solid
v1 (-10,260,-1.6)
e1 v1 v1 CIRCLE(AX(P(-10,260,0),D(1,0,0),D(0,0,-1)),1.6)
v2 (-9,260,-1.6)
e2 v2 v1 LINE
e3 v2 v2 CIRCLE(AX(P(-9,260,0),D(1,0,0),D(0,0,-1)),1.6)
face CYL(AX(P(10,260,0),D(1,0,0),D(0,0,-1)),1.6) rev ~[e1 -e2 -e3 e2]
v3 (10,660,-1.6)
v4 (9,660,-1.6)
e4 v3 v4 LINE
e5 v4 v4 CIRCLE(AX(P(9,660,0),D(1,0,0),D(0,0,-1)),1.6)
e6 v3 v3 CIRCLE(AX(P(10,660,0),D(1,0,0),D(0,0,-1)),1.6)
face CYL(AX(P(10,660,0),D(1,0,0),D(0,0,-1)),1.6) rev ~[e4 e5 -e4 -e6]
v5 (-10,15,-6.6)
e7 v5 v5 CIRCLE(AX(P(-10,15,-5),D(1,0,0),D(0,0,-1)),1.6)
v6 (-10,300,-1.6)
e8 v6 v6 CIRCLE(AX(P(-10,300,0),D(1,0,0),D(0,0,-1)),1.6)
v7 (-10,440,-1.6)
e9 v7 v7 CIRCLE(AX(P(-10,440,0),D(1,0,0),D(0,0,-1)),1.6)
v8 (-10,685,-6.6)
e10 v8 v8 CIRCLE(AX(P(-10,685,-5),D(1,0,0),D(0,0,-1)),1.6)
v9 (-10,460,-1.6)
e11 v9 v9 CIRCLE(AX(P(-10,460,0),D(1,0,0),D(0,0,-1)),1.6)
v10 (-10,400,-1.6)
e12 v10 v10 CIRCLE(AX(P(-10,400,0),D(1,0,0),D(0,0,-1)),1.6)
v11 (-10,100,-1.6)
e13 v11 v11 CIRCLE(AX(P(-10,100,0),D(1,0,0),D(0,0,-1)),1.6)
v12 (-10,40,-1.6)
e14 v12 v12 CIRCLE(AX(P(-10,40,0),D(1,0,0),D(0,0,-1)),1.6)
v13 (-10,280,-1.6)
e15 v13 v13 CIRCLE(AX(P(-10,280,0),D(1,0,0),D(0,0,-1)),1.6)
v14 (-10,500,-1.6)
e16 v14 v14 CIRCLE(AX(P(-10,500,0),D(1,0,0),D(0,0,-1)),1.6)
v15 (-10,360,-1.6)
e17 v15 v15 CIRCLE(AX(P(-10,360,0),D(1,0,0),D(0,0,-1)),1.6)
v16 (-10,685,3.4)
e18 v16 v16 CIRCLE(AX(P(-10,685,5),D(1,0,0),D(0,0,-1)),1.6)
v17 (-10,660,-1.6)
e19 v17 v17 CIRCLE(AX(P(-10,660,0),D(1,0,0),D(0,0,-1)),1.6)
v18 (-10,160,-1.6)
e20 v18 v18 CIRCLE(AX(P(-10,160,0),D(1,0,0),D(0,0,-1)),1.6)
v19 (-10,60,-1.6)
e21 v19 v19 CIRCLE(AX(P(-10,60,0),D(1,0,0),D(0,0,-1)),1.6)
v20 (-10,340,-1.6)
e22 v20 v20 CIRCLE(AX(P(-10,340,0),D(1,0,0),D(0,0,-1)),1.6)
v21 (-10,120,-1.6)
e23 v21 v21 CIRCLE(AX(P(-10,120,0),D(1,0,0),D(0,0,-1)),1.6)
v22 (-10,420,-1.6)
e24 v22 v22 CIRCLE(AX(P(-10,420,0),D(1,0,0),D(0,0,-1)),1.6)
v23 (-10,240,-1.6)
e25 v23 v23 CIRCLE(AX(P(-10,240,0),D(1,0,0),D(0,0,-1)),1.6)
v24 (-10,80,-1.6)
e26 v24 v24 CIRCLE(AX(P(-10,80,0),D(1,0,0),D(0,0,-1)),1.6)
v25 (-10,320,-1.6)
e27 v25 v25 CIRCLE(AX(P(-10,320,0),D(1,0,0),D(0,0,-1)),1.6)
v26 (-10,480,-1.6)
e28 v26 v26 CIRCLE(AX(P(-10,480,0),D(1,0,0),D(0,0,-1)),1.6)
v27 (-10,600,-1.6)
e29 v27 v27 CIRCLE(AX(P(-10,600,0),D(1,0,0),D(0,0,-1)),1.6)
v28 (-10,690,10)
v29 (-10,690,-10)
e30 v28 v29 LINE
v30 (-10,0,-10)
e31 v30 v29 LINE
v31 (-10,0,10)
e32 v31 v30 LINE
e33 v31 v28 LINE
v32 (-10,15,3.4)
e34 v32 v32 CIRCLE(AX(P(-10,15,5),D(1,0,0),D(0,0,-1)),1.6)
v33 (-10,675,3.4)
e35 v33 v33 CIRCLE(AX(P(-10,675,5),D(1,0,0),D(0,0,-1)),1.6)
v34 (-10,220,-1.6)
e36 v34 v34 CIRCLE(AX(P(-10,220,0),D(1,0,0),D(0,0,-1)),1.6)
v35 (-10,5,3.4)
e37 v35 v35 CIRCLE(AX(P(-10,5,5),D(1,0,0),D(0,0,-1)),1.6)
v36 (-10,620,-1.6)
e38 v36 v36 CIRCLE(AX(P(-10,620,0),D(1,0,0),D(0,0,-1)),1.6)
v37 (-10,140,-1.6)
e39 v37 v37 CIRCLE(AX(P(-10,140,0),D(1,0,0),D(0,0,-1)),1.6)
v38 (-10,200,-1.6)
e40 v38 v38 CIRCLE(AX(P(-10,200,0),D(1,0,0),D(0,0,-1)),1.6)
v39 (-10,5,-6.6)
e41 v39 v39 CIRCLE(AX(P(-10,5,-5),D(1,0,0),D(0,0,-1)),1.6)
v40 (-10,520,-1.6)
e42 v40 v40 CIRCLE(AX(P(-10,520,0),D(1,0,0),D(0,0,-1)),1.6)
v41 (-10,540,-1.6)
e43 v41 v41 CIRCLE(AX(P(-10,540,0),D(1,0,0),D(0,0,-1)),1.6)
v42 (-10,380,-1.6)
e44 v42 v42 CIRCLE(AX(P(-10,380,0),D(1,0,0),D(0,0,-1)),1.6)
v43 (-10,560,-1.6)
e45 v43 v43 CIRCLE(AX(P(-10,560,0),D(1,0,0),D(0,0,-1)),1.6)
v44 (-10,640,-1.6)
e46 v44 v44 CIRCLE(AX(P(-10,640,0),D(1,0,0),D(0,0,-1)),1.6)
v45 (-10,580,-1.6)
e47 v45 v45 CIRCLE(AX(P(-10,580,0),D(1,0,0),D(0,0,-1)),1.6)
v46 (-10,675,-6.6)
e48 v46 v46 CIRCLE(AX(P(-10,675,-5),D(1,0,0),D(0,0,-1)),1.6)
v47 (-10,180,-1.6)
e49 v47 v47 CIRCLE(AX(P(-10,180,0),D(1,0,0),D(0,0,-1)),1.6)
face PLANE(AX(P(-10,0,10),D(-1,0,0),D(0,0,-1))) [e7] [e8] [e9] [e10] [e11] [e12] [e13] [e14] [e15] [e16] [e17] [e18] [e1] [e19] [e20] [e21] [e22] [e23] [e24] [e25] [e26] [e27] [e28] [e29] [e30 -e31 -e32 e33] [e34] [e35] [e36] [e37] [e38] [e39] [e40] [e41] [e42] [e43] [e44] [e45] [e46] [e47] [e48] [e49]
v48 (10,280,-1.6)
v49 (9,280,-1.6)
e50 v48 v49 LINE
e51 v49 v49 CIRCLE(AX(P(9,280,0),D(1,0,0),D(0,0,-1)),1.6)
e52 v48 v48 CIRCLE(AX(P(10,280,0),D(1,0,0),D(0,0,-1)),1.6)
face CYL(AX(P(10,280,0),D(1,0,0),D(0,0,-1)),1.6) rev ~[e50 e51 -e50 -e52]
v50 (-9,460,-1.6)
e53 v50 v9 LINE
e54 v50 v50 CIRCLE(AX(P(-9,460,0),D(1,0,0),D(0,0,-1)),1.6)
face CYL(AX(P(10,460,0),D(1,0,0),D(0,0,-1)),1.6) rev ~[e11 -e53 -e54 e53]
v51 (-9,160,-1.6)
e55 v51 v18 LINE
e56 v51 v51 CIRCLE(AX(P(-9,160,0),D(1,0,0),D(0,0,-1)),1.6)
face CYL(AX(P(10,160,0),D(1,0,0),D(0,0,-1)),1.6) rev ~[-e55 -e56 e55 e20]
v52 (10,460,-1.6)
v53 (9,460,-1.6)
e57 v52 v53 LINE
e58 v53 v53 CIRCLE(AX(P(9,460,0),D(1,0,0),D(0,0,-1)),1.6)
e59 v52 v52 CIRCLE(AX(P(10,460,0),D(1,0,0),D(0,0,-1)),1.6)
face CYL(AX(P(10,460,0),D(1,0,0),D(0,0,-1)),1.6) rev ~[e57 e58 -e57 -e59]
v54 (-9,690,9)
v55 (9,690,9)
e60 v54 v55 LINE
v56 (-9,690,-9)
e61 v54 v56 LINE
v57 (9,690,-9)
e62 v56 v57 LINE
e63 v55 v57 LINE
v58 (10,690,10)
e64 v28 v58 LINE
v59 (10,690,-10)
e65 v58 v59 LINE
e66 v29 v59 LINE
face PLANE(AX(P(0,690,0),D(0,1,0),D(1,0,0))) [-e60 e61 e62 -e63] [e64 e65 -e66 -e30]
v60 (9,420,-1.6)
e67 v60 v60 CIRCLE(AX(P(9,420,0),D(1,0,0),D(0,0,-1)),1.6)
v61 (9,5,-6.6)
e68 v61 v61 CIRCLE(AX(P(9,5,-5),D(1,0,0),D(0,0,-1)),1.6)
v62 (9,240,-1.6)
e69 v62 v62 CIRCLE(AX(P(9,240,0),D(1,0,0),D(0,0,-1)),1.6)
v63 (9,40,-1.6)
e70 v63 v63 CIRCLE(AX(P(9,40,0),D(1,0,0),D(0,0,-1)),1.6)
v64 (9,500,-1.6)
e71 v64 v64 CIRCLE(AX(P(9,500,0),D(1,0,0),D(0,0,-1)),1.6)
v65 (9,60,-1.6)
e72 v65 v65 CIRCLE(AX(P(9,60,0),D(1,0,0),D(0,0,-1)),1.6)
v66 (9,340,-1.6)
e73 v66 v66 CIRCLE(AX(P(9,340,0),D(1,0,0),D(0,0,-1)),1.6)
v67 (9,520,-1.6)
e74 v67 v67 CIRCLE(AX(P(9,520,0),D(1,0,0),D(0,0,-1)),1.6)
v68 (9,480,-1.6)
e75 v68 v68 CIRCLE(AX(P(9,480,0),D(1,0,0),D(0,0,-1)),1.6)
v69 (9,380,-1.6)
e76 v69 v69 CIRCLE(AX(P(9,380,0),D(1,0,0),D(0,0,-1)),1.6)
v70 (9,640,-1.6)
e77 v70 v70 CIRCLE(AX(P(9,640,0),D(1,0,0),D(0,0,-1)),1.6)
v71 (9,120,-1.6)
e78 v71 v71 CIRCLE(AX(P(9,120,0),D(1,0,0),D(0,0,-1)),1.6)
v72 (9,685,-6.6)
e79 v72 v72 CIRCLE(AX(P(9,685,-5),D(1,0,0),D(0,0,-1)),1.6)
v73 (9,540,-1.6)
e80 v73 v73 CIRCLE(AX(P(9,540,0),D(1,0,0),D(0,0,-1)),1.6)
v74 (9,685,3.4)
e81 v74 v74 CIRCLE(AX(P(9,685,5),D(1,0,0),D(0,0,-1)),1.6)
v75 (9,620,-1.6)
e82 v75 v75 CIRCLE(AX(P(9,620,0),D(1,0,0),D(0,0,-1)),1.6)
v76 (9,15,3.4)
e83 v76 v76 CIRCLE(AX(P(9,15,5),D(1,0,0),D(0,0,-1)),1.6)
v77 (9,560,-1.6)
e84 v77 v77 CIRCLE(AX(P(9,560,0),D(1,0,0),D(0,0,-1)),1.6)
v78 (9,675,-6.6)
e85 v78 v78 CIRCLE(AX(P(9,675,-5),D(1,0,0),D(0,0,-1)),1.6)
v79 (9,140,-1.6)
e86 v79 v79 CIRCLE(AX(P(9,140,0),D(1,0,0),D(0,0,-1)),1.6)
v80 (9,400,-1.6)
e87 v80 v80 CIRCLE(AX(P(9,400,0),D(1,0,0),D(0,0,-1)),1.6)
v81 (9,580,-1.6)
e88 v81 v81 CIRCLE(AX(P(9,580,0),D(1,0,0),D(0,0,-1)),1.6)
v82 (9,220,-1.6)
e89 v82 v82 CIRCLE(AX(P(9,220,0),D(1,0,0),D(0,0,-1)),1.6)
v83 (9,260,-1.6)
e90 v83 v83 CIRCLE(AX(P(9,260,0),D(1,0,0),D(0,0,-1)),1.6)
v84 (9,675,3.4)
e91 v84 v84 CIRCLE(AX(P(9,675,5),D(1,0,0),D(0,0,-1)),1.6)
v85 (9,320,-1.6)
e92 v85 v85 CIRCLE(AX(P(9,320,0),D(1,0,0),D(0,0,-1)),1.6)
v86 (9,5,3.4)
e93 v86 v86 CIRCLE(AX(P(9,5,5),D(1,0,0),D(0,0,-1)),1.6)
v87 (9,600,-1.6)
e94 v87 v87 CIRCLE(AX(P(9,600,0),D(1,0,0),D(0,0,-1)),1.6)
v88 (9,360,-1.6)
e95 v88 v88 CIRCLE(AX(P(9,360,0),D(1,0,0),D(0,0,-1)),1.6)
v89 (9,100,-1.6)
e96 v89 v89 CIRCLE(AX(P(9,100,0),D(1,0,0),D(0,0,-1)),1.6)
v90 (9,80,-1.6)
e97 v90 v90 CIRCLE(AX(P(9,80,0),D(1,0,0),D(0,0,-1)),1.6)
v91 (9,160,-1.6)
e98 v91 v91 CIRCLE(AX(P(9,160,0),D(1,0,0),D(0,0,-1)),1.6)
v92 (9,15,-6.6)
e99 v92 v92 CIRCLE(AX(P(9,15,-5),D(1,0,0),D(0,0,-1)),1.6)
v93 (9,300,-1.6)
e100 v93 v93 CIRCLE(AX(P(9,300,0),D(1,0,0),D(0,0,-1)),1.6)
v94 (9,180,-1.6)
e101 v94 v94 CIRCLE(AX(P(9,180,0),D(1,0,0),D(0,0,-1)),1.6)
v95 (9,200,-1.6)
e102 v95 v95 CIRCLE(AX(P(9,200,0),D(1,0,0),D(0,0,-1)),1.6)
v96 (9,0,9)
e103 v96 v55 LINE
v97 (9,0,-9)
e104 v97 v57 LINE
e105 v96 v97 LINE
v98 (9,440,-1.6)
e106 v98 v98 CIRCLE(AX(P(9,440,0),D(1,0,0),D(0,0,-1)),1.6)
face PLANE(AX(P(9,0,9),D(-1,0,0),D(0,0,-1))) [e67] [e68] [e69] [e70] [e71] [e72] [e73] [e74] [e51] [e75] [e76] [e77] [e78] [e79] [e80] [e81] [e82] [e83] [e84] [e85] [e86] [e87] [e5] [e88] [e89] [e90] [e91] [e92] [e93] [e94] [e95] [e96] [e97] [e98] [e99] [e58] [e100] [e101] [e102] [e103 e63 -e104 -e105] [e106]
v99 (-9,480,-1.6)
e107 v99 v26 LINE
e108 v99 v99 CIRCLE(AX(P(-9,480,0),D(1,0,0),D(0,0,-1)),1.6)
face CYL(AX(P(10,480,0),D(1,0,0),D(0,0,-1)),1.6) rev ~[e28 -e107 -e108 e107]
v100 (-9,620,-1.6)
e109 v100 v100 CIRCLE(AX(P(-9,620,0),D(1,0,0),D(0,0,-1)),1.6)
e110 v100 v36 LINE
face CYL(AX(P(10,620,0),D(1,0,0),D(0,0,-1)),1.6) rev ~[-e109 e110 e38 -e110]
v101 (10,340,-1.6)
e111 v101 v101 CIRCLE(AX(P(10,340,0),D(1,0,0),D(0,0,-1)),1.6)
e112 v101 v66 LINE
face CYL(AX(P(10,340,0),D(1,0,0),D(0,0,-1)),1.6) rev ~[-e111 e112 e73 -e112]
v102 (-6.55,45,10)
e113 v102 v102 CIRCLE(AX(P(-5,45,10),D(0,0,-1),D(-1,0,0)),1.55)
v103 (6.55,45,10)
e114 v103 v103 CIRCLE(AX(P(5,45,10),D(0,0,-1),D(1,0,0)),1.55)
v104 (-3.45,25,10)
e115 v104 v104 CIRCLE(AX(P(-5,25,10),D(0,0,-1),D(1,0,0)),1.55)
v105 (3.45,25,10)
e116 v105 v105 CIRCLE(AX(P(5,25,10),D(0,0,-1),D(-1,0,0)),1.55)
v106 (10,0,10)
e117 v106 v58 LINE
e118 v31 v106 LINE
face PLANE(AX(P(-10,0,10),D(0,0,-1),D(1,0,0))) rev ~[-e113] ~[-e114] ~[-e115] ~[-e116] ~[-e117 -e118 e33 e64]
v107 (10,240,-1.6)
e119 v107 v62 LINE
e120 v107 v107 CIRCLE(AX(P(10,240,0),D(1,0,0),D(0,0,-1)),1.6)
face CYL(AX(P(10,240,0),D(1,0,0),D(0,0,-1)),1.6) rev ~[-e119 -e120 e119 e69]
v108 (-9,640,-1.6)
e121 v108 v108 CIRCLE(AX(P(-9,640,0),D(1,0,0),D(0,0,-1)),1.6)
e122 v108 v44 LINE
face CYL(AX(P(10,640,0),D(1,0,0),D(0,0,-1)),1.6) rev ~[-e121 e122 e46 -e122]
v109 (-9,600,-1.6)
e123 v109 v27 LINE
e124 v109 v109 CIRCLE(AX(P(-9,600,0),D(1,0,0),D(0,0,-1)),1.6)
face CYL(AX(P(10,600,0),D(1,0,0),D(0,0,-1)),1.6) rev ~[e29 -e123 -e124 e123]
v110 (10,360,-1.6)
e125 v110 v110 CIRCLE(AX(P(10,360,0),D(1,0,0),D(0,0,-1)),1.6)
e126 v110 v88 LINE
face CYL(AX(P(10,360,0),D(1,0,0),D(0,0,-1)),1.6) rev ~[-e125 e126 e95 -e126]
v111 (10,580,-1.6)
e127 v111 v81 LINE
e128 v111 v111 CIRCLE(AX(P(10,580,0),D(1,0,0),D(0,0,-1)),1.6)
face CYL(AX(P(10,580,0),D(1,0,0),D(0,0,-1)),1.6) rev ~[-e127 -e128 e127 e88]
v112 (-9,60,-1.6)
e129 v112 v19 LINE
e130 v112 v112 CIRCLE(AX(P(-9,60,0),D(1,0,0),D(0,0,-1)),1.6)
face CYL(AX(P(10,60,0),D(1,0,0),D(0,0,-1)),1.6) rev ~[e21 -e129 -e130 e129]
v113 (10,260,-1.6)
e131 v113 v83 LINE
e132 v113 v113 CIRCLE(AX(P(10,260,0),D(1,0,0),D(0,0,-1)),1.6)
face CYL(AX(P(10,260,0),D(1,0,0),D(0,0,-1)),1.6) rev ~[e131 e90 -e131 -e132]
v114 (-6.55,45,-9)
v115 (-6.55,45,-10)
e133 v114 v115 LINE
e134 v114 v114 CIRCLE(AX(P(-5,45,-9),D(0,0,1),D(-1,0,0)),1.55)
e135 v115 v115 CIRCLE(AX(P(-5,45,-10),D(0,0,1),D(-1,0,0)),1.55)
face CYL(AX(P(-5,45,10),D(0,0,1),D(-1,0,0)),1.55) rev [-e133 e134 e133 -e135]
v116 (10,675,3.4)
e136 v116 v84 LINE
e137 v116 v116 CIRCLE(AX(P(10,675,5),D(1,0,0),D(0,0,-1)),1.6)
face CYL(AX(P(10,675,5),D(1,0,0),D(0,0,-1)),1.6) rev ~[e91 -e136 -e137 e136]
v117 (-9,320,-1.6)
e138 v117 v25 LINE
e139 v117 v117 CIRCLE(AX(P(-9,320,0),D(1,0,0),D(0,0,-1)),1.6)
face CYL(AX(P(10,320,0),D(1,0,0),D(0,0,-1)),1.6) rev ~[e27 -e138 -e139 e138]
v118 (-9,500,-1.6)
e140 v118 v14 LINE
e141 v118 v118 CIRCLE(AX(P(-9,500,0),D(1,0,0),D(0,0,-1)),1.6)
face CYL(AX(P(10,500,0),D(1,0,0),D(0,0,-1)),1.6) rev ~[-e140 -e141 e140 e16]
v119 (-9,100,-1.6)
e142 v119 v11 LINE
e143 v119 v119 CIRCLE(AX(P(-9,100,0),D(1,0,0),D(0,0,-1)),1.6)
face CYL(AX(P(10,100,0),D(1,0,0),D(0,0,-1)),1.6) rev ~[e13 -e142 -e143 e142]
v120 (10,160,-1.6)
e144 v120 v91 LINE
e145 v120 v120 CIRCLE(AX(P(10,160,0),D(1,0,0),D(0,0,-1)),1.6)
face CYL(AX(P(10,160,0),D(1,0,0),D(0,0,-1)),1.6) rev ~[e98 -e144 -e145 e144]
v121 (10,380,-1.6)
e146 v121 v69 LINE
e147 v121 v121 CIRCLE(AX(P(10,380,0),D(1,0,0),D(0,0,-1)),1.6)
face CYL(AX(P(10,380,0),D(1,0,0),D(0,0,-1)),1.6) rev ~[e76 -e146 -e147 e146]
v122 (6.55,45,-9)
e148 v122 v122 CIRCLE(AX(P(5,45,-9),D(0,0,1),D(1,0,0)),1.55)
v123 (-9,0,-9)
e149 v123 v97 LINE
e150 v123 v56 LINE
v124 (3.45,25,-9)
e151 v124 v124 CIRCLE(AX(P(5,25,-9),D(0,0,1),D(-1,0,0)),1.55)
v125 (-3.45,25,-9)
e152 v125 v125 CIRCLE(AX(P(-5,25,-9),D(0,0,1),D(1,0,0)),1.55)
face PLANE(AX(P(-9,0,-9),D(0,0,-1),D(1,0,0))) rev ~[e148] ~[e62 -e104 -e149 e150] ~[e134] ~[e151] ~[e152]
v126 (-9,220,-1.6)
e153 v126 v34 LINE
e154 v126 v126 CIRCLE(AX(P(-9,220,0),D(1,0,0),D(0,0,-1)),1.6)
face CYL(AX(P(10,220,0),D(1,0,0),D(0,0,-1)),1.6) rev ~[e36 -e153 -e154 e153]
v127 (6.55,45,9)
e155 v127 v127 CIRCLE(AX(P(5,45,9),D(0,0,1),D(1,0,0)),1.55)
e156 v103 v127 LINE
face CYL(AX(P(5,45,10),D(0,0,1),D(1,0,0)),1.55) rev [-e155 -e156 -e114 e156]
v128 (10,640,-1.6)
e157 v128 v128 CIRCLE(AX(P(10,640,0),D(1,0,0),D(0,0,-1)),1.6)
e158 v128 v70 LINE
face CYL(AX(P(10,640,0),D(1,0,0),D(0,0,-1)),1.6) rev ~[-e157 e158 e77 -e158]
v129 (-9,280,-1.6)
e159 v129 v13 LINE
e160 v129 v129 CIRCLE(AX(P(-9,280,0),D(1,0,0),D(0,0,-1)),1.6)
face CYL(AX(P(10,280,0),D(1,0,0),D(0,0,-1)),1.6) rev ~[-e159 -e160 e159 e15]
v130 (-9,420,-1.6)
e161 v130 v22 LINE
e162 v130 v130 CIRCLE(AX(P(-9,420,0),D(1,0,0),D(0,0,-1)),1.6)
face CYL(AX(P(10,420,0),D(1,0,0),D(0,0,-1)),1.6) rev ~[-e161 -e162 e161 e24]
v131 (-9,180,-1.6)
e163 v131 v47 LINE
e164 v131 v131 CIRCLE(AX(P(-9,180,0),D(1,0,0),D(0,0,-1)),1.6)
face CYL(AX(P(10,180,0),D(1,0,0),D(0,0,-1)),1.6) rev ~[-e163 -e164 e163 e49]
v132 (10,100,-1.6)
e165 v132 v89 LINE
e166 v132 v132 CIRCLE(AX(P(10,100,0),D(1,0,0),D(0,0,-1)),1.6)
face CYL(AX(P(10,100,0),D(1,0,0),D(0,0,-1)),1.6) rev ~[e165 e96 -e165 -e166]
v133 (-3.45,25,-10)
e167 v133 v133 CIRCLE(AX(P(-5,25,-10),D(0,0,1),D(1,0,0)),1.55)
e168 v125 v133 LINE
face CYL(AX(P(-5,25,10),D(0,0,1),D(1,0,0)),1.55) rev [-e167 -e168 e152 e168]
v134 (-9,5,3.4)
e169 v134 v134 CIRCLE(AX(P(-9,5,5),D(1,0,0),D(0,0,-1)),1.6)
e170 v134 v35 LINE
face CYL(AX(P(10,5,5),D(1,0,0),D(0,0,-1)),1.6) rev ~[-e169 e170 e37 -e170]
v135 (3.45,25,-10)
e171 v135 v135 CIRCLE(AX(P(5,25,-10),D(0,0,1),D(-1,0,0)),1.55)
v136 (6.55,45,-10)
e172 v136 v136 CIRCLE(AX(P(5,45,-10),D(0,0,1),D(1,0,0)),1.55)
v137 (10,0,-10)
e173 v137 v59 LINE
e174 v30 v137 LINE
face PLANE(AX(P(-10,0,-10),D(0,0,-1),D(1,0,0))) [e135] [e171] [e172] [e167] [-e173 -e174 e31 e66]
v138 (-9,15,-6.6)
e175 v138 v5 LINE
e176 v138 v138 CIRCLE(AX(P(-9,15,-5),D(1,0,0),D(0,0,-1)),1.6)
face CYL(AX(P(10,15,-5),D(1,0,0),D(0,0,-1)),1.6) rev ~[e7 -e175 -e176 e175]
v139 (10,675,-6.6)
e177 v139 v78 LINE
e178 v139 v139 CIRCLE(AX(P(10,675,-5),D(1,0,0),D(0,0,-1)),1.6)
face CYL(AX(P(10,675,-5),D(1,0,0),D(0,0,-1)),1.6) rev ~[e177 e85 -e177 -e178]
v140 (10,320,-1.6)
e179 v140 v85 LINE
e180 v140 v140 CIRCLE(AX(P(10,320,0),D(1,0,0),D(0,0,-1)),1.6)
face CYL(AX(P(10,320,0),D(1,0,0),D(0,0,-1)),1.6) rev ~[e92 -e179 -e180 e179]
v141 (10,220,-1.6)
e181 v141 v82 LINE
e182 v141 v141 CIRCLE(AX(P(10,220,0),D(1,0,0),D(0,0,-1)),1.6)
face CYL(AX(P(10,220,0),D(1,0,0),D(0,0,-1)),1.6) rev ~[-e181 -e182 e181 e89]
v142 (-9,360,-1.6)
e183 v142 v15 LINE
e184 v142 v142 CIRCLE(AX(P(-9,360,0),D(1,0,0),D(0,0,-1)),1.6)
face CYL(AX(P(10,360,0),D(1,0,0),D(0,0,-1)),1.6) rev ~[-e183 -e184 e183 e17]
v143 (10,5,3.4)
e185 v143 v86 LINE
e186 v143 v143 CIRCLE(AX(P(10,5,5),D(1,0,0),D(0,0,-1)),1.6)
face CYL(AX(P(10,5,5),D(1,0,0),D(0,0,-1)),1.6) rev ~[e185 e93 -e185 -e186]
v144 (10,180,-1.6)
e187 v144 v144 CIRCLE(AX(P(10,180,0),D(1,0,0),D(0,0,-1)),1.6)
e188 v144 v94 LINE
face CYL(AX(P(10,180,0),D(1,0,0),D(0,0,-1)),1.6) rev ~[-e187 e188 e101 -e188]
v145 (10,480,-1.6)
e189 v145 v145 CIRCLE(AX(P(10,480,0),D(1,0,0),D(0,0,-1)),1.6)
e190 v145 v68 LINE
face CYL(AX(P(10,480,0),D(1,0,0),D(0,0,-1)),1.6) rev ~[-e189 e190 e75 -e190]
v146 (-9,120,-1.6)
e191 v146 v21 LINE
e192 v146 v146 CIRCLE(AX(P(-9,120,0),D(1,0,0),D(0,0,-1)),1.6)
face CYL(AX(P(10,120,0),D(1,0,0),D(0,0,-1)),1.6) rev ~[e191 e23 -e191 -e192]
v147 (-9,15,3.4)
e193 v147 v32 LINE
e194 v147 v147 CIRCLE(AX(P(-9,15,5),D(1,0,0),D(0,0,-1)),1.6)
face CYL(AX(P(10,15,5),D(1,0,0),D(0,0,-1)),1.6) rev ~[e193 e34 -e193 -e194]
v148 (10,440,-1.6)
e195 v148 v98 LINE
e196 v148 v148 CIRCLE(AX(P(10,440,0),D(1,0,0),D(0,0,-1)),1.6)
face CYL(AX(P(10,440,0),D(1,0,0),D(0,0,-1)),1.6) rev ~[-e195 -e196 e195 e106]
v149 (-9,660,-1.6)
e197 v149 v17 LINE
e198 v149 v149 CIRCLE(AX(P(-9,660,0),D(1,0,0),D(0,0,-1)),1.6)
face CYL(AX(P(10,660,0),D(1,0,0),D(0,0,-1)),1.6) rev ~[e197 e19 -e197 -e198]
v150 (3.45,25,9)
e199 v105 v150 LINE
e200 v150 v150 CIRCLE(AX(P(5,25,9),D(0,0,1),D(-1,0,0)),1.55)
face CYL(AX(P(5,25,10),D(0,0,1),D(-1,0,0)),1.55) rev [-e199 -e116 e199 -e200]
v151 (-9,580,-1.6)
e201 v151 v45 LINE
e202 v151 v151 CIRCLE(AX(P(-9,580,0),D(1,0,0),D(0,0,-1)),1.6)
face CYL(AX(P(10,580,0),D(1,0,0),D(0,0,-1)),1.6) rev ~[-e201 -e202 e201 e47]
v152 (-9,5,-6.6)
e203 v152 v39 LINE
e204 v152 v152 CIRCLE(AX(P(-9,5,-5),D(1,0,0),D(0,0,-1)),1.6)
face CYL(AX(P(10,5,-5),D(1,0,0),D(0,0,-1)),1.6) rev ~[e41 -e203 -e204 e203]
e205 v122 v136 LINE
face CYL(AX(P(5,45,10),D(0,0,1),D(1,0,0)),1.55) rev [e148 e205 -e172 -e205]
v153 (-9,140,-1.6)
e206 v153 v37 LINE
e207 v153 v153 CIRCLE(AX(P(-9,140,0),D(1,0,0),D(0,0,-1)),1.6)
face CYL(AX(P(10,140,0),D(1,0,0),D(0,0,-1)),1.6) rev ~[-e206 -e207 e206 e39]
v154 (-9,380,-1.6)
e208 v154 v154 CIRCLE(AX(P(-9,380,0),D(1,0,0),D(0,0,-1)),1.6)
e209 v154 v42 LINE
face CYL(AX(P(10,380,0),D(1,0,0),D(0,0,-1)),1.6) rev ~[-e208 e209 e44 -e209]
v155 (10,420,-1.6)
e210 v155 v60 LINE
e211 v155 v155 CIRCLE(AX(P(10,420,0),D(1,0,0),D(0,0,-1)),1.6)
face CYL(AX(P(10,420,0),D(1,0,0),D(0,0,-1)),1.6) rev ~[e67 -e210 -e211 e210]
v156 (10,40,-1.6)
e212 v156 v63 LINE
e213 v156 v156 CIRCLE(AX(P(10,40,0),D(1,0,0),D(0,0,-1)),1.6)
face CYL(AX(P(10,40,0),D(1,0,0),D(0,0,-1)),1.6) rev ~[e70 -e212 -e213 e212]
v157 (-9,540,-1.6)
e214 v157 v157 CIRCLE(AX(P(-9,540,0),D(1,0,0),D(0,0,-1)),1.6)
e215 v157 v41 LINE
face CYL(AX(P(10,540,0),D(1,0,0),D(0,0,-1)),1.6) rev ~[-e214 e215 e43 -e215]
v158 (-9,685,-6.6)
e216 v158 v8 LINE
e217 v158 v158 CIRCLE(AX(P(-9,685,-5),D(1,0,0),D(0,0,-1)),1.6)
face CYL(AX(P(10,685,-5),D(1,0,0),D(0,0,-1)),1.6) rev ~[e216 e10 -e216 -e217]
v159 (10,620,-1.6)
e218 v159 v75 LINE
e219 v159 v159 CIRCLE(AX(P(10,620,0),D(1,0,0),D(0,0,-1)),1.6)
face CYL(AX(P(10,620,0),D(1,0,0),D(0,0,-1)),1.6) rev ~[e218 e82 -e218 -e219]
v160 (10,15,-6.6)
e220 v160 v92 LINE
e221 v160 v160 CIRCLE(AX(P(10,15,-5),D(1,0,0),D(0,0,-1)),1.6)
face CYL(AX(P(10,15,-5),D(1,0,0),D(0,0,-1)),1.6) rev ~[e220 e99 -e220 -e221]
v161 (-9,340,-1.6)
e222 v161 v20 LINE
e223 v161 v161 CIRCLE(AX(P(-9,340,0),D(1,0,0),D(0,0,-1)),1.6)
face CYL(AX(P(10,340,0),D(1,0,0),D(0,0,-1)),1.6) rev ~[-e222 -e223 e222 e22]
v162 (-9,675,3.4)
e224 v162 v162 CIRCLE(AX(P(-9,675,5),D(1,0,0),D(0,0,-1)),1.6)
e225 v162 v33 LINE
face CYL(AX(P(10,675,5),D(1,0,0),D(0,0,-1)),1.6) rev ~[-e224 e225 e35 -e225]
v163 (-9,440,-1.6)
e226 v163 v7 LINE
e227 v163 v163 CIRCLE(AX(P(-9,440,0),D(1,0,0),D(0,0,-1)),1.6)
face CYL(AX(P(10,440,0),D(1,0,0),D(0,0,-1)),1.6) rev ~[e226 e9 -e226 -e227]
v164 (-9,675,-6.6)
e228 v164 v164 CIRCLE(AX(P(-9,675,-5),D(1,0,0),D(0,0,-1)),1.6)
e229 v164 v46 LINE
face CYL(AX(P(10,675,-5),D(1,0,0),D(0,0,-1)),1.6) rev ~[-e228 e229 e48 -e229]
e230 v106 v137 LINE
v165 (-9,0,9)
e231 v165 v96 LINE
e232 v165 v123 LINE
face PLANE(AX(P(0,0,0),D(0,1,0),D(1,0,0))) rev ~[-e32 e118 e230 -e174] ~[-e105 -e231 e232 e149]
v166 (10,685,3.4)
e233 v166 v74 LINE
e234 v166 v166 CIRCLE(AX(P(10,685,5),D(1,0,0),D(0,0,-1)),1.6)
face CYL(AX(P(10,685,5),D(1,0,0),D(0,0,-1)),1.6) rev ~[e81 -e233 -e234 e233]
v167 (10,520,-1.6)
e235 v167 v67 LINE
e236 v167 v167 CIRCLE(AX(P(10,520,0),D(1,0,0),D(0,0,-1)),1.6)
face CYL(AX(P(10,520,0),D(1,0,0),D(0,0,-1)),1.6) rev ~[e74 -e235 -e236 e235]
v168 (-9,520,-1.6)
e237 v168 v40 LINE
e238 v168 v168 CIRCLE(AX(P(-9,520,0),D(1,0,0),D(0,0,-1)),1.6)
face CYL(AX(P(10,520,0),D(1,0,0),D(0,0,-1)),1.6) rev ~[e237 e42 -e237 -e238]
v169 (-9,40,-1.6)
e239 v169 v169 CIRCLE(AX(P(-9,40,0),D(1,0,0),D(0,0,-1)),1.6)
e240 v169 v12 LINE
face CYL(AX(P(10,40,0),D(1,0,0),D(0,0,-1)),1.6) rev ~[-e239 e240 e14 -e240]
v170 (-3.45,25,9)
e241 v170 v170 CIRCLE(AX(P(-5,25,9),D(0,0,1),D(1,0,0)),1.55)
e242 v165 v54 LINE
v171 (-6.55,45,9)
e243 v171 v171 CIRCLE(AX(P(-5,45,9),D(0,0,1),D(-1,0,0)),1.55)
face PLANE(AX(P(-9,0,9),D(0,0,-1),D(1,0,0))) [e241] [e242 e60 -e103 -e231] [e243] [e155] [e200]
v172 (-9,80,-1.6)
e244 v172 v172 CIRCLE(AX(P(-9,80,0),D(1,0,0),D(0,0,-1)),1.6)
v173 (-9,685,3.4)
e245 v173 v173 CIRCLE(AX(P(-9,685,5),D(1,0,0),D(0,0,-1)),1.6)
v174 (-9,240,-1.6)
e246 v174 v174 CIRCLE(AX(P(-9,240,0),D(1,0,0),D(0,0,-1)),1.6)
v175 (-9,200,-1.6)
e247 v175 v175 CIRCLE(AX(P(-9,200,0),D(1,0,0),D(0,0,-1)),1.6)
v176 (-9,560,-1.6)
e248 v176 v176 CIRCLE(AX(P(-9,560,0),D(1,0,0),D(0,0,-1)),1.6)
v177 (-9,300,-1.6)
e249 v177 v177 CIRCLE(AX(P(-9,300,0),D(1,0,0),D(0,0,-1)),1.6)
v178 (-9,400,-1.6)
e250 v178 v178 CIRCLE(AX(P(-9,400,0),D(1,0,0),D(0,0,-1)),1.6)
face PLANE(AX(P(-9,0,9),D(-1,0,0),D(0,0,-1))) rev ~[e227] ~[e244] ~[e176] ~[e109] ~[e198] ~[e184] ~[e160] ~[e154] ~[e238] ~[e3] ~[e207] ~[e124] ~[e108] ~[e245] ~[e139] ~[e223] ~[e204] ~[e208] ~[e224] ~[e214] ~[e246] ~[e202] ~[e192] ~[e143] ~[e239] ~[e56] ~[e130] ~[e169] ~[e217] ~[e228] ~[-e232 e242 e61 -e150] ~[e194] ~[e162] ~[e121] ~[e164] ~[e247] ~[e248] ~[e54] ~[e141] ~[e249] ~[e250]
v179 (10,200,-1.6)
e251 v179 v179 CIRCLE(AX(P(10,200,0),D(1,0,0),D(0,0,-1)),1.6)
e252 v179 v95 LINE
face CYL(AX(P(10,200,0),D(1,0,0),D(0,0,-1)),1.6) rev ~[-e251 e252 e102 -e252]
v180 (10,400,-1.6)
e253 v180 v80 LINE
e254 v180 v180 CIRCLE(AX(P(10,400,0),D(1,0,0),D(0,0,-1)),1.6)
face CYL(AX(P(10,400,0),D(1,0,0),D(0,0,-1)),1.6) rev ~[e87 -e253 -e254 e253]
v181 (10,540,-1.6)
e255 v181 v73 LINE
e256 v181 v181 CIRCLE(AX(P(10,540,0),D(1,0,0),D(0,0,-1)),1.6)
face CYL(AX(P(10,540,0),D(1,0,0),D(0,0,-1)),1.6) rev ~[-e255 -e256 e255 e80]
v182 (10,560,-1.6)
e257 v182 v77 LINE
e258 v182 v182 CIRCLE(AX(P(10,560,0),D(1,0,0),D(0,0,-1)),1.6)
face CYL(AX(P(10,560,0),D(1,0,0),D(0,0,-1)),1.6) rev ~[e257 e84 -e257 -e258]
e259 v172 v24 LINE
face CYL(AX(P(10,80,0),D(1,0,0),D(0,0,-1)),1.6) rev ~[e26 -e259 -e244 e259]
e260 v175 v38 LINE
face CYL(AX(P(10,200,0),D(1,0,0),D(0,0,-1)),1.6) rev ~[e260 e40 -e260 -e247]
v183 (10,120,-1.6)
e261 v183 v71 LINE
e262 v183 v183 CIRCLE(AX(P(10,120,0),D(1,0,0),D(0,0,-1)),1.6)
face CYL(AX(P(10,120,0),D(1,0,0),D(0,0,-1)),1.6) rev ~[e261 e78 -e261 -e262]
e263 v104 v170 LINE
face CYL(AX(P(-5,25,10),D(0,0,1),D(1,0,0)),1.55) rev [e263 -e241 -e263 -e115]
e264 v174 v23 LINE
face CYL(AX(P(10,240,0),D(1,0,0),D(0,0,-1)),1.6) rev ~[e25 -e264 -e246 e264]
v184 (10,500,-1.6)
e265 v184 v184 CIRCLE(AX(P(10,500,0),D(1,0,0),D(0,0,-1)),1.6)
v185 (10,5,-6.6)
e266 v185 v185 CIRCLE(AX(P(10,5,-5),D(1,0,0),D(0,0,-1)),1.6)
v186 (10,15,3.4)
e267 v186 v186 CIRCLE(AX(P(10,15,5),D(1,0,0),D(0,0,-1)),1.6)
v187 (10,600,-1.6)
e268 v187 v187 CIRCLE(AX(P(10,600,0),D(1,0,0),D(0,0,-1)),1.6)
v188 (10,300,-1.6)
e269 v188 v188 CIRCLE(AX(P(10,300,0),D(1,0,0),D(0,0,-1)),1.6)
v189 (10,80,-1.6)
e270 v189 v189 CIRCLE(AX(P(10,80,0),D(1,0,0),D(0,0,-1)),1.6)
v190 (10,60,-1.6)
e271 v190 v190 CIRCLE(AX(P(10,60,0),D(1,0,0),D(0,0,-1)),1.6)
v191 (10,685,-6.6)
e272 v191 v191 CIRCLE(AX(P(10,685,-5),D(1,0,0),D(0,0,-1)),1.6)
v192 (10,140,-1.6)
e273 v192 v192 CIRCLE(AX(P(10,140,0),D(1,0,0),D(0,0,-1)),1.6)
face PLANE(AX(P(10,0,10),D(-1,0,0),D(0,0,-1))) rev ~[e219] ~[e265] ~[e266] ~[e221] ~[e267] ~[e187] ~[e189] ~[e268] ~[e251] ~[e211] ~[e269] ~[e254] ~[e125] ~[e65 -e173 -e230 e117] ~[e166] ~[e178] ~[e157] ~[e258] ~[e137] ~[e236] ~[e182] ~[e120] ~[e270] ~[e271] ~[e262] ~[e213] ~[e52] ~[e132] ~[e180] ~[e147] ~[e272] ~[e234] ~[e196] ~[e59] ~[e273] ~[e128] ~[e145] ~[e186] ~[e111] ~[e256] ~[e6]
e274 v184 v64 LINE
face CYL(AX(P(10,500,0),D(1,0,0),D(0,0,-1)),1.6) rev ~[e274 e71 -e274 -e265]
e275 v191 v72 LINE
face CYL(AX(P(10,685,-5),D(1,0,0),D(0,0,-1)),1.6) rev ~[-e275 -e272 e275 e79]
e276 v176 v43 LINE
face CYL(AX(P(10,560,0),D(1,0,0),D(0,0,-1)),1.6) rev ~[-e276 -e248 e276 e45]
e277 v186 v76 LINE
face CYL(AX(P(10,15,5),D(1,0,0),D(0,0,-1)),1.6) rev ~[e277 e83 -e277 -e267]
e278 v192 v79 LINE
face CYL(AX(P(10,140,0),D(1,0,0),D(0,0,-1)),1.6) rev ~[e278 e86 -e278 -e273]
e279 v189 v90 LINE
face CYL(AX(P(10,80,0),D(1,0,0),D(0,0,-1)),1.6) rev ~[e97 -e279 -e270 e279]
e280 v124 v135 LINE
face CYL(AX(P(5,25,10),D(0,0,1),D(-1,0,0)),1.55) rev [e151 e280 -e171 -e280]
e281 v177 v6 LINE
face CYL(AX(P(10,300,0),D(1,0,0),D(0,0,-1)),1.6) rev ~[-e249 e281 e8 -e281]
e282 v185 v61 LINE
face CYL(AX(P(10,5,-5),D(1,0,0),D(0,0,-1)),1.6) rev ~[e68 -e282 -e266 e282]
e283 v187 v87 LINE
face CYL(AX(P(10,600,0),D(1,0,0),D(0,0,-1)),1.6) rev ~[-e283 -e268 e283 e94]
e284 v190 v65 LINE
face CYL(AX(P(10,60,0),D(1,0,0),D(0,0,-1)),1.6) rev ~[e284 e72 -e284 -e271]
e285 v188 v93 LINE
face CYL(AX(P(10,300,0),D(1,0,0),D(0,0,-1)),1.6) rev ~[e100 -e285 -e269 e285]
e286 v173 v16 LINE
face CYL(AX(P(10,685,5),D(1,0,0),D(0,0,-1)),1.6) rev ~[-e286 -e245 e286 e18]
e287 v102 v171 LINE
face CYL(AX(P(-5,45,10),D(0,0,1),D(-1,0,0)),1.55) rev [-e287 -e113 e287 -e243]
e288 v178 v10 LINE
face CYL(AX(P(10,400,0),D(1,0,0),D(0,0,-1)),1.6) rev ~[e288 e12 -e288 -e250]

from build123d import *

# Parameters (mm, degrees)
SKETCH_1_W          = 20
SKETCH_1_H          = 20
SKETCH_1_W_2        = 18
SKETCH_1_H_2        = 18
EXTRUDE_1_DEPTH     = 690
SKETCH_3_R          = 1.55
CUT_EXTRUDE_2_DEPTH = 691.362223764
SKETCH_4_R          = 1.6
CUT_EXTRUDE_3_DEPTH = 691.362223764
SKETCH_5_R          = 1.6
CUT_EXTRUDE_4_DEPTH = 691.362223764


with BuildPart() as part:
    # 草图1 → 拉伸-薄壁1 (new body)
    with BuildSketch(Plane(origin=(0, 0, 0), x_dir=(1, 0, 0), z_dir=(0, 1, 0))):
        Rectangle(SKETCH_1_W, SKETCH_1_H)
        Rectangle(SKETCH_1_W_2, SKETCH_1_H_2, mode=Mode.SUBTRACT)
    extrude(amount=EXTRUDE_1_DEPTH)

    # 草图3 → 切除-拉伸2 (cut, through all)
    with BuildSketch(Plane(origin=(0, 0, 10), x_dir=(-1, 0, 0), z_dir=(0, 0, -1))):
        with Locations((-5, 25)):
            Circle(SKETCH_3_R)
        with Locations(Location((-5, 45, 0), (0, 0, 180))):
            Circle(SKETCH_3_R)
        with Locations(Location((5, 25, 0), (0, 0, 180))):
            Circle(SKETCH_3_R)
        with Locations((5, 45)):
            Circle(SKETCH_3_R)
    extrude(amount=CUT_EXTRUDE_2_DEPTH, mode=Mode.SUBTRACT)

    # 草图4 → 切除-拉伸3 (cut, through all)
    with BuildSketch(Plane(origin=(10, 0, 0), x_dir=(0, 0, -1), z_dir=(1, 0, 0))):
        with Locations((-5, 5)):
            Circle(SKETCH_4_R)
        with Locations((-5, 15)):
            Circle(SKETCH_4_R)
        with Locations((5, 5)):
            Circle(SKETCH_4_R)
        with Locations((5, 15)):
            Circle(SKETCH_4_R)
        with Locations((5, 675)):
            Circle(SKETCH_4_R)
        with Locations((5, 685)):
            Circle(SKETCH_4_R)
        with Locations((-5, 675)):
            Circle(SKETCH_4_R)
        with Locations((-5, 685)):
            Circle(SKETCH_4_R)
    extrude(amount=-CUT_EXTRUDE_3_DEPTH, mode=Mode.SUBTRACT)

    # 草图5 → 切除-拉伸4 (cut, through all)
    with BuildSketch(Plane(origin=(10, 0, 0), x_dir=(0, 0, -1), z_dir=(1, 0, 0))):
        with Locations((0, 60)):
            Circle(SKETCH_5_R)
        with Locations((0, 80)):
            Circle(SKETCH_5_R)
        with Locations((0, 100)):
            Circle(SKETCH_5_R)
        with Locations((0, 120)):
            Circle(SKETCH_5_R)
        with Locations((0, 140)):
            Circle(SKETCH_5_R)
        with Locations((0, 160)):
            Circle(SKETCH_5_R)
        with Locations((0, 180)):
            Circle(SKETCH_5_R)
        with Locations((0, 200)):
            Circle(SKETCH_5_R)
        with Locations((0, 220)):
            Circle(SKETCH_5_R)
        with Locations((0, 240)):
            Circle(SKETCH_5_R)
        with Locations((0, 260)):
            Circle(SKETCH_5_R)
        with Locations((0, 280)):
            Circle(SKETCH_5_R)
        with Locations((0, 300)):
            Circle(SKETCH_5_R)
        with Locations((0, 320)):
            Circle(SKETCH_5_R)
        with Locations((0, 340)):
            Circle(SKETCH_5_R)
        with Locations((0, 360)):
            Circle(SKETCH_5_R)
        with Locations((0, 380)):
            Circle(SKETCH_5_R)
        with Locations((0, 400)):
            Circle(SKETCH_5_R)
        with Locations((0, 420)):
            Circle(SKETCH_5_R)
        with Locations((0, 440)):
            Circle(SKETCH_5_R)
        with Locations((0, 460)):
            Circle(SKETCH_5_R)
        with Locations((0, 480)):
            Circle(SKETCH_5_R)
        with Locations((0, 500)):
            Circle(SKETCH_5_R)
        with Locations((0, 520)):
            Circle(SKETCH_5_R)
        with Locations((0, 540)):
            Circle(SKETCH_5_R)
        with Locations((0, 560)):
            Circle(SKETCH_5_R)
        with Locations((0, 580)):
            Circle(SKETCH_5_R)
        with Locations((0, 600)):
            Circle(SKETCH_5_R)
        with Locations((0, 620)):
            Circle(SKETCH_5_R)
        with Locations((0, 640)):
            Circle(SKETCH_5_R)
        with Locations((0, 660)):
            Circle(SKETCH_5_R)
        with Locations((0, 40)):
            Circle(SKETCH_5_R)
    extrude(amount=-CUT_EXTRUDE_4_DEPTH, mode=Mode.SUBTRACT)


solid = part.part
